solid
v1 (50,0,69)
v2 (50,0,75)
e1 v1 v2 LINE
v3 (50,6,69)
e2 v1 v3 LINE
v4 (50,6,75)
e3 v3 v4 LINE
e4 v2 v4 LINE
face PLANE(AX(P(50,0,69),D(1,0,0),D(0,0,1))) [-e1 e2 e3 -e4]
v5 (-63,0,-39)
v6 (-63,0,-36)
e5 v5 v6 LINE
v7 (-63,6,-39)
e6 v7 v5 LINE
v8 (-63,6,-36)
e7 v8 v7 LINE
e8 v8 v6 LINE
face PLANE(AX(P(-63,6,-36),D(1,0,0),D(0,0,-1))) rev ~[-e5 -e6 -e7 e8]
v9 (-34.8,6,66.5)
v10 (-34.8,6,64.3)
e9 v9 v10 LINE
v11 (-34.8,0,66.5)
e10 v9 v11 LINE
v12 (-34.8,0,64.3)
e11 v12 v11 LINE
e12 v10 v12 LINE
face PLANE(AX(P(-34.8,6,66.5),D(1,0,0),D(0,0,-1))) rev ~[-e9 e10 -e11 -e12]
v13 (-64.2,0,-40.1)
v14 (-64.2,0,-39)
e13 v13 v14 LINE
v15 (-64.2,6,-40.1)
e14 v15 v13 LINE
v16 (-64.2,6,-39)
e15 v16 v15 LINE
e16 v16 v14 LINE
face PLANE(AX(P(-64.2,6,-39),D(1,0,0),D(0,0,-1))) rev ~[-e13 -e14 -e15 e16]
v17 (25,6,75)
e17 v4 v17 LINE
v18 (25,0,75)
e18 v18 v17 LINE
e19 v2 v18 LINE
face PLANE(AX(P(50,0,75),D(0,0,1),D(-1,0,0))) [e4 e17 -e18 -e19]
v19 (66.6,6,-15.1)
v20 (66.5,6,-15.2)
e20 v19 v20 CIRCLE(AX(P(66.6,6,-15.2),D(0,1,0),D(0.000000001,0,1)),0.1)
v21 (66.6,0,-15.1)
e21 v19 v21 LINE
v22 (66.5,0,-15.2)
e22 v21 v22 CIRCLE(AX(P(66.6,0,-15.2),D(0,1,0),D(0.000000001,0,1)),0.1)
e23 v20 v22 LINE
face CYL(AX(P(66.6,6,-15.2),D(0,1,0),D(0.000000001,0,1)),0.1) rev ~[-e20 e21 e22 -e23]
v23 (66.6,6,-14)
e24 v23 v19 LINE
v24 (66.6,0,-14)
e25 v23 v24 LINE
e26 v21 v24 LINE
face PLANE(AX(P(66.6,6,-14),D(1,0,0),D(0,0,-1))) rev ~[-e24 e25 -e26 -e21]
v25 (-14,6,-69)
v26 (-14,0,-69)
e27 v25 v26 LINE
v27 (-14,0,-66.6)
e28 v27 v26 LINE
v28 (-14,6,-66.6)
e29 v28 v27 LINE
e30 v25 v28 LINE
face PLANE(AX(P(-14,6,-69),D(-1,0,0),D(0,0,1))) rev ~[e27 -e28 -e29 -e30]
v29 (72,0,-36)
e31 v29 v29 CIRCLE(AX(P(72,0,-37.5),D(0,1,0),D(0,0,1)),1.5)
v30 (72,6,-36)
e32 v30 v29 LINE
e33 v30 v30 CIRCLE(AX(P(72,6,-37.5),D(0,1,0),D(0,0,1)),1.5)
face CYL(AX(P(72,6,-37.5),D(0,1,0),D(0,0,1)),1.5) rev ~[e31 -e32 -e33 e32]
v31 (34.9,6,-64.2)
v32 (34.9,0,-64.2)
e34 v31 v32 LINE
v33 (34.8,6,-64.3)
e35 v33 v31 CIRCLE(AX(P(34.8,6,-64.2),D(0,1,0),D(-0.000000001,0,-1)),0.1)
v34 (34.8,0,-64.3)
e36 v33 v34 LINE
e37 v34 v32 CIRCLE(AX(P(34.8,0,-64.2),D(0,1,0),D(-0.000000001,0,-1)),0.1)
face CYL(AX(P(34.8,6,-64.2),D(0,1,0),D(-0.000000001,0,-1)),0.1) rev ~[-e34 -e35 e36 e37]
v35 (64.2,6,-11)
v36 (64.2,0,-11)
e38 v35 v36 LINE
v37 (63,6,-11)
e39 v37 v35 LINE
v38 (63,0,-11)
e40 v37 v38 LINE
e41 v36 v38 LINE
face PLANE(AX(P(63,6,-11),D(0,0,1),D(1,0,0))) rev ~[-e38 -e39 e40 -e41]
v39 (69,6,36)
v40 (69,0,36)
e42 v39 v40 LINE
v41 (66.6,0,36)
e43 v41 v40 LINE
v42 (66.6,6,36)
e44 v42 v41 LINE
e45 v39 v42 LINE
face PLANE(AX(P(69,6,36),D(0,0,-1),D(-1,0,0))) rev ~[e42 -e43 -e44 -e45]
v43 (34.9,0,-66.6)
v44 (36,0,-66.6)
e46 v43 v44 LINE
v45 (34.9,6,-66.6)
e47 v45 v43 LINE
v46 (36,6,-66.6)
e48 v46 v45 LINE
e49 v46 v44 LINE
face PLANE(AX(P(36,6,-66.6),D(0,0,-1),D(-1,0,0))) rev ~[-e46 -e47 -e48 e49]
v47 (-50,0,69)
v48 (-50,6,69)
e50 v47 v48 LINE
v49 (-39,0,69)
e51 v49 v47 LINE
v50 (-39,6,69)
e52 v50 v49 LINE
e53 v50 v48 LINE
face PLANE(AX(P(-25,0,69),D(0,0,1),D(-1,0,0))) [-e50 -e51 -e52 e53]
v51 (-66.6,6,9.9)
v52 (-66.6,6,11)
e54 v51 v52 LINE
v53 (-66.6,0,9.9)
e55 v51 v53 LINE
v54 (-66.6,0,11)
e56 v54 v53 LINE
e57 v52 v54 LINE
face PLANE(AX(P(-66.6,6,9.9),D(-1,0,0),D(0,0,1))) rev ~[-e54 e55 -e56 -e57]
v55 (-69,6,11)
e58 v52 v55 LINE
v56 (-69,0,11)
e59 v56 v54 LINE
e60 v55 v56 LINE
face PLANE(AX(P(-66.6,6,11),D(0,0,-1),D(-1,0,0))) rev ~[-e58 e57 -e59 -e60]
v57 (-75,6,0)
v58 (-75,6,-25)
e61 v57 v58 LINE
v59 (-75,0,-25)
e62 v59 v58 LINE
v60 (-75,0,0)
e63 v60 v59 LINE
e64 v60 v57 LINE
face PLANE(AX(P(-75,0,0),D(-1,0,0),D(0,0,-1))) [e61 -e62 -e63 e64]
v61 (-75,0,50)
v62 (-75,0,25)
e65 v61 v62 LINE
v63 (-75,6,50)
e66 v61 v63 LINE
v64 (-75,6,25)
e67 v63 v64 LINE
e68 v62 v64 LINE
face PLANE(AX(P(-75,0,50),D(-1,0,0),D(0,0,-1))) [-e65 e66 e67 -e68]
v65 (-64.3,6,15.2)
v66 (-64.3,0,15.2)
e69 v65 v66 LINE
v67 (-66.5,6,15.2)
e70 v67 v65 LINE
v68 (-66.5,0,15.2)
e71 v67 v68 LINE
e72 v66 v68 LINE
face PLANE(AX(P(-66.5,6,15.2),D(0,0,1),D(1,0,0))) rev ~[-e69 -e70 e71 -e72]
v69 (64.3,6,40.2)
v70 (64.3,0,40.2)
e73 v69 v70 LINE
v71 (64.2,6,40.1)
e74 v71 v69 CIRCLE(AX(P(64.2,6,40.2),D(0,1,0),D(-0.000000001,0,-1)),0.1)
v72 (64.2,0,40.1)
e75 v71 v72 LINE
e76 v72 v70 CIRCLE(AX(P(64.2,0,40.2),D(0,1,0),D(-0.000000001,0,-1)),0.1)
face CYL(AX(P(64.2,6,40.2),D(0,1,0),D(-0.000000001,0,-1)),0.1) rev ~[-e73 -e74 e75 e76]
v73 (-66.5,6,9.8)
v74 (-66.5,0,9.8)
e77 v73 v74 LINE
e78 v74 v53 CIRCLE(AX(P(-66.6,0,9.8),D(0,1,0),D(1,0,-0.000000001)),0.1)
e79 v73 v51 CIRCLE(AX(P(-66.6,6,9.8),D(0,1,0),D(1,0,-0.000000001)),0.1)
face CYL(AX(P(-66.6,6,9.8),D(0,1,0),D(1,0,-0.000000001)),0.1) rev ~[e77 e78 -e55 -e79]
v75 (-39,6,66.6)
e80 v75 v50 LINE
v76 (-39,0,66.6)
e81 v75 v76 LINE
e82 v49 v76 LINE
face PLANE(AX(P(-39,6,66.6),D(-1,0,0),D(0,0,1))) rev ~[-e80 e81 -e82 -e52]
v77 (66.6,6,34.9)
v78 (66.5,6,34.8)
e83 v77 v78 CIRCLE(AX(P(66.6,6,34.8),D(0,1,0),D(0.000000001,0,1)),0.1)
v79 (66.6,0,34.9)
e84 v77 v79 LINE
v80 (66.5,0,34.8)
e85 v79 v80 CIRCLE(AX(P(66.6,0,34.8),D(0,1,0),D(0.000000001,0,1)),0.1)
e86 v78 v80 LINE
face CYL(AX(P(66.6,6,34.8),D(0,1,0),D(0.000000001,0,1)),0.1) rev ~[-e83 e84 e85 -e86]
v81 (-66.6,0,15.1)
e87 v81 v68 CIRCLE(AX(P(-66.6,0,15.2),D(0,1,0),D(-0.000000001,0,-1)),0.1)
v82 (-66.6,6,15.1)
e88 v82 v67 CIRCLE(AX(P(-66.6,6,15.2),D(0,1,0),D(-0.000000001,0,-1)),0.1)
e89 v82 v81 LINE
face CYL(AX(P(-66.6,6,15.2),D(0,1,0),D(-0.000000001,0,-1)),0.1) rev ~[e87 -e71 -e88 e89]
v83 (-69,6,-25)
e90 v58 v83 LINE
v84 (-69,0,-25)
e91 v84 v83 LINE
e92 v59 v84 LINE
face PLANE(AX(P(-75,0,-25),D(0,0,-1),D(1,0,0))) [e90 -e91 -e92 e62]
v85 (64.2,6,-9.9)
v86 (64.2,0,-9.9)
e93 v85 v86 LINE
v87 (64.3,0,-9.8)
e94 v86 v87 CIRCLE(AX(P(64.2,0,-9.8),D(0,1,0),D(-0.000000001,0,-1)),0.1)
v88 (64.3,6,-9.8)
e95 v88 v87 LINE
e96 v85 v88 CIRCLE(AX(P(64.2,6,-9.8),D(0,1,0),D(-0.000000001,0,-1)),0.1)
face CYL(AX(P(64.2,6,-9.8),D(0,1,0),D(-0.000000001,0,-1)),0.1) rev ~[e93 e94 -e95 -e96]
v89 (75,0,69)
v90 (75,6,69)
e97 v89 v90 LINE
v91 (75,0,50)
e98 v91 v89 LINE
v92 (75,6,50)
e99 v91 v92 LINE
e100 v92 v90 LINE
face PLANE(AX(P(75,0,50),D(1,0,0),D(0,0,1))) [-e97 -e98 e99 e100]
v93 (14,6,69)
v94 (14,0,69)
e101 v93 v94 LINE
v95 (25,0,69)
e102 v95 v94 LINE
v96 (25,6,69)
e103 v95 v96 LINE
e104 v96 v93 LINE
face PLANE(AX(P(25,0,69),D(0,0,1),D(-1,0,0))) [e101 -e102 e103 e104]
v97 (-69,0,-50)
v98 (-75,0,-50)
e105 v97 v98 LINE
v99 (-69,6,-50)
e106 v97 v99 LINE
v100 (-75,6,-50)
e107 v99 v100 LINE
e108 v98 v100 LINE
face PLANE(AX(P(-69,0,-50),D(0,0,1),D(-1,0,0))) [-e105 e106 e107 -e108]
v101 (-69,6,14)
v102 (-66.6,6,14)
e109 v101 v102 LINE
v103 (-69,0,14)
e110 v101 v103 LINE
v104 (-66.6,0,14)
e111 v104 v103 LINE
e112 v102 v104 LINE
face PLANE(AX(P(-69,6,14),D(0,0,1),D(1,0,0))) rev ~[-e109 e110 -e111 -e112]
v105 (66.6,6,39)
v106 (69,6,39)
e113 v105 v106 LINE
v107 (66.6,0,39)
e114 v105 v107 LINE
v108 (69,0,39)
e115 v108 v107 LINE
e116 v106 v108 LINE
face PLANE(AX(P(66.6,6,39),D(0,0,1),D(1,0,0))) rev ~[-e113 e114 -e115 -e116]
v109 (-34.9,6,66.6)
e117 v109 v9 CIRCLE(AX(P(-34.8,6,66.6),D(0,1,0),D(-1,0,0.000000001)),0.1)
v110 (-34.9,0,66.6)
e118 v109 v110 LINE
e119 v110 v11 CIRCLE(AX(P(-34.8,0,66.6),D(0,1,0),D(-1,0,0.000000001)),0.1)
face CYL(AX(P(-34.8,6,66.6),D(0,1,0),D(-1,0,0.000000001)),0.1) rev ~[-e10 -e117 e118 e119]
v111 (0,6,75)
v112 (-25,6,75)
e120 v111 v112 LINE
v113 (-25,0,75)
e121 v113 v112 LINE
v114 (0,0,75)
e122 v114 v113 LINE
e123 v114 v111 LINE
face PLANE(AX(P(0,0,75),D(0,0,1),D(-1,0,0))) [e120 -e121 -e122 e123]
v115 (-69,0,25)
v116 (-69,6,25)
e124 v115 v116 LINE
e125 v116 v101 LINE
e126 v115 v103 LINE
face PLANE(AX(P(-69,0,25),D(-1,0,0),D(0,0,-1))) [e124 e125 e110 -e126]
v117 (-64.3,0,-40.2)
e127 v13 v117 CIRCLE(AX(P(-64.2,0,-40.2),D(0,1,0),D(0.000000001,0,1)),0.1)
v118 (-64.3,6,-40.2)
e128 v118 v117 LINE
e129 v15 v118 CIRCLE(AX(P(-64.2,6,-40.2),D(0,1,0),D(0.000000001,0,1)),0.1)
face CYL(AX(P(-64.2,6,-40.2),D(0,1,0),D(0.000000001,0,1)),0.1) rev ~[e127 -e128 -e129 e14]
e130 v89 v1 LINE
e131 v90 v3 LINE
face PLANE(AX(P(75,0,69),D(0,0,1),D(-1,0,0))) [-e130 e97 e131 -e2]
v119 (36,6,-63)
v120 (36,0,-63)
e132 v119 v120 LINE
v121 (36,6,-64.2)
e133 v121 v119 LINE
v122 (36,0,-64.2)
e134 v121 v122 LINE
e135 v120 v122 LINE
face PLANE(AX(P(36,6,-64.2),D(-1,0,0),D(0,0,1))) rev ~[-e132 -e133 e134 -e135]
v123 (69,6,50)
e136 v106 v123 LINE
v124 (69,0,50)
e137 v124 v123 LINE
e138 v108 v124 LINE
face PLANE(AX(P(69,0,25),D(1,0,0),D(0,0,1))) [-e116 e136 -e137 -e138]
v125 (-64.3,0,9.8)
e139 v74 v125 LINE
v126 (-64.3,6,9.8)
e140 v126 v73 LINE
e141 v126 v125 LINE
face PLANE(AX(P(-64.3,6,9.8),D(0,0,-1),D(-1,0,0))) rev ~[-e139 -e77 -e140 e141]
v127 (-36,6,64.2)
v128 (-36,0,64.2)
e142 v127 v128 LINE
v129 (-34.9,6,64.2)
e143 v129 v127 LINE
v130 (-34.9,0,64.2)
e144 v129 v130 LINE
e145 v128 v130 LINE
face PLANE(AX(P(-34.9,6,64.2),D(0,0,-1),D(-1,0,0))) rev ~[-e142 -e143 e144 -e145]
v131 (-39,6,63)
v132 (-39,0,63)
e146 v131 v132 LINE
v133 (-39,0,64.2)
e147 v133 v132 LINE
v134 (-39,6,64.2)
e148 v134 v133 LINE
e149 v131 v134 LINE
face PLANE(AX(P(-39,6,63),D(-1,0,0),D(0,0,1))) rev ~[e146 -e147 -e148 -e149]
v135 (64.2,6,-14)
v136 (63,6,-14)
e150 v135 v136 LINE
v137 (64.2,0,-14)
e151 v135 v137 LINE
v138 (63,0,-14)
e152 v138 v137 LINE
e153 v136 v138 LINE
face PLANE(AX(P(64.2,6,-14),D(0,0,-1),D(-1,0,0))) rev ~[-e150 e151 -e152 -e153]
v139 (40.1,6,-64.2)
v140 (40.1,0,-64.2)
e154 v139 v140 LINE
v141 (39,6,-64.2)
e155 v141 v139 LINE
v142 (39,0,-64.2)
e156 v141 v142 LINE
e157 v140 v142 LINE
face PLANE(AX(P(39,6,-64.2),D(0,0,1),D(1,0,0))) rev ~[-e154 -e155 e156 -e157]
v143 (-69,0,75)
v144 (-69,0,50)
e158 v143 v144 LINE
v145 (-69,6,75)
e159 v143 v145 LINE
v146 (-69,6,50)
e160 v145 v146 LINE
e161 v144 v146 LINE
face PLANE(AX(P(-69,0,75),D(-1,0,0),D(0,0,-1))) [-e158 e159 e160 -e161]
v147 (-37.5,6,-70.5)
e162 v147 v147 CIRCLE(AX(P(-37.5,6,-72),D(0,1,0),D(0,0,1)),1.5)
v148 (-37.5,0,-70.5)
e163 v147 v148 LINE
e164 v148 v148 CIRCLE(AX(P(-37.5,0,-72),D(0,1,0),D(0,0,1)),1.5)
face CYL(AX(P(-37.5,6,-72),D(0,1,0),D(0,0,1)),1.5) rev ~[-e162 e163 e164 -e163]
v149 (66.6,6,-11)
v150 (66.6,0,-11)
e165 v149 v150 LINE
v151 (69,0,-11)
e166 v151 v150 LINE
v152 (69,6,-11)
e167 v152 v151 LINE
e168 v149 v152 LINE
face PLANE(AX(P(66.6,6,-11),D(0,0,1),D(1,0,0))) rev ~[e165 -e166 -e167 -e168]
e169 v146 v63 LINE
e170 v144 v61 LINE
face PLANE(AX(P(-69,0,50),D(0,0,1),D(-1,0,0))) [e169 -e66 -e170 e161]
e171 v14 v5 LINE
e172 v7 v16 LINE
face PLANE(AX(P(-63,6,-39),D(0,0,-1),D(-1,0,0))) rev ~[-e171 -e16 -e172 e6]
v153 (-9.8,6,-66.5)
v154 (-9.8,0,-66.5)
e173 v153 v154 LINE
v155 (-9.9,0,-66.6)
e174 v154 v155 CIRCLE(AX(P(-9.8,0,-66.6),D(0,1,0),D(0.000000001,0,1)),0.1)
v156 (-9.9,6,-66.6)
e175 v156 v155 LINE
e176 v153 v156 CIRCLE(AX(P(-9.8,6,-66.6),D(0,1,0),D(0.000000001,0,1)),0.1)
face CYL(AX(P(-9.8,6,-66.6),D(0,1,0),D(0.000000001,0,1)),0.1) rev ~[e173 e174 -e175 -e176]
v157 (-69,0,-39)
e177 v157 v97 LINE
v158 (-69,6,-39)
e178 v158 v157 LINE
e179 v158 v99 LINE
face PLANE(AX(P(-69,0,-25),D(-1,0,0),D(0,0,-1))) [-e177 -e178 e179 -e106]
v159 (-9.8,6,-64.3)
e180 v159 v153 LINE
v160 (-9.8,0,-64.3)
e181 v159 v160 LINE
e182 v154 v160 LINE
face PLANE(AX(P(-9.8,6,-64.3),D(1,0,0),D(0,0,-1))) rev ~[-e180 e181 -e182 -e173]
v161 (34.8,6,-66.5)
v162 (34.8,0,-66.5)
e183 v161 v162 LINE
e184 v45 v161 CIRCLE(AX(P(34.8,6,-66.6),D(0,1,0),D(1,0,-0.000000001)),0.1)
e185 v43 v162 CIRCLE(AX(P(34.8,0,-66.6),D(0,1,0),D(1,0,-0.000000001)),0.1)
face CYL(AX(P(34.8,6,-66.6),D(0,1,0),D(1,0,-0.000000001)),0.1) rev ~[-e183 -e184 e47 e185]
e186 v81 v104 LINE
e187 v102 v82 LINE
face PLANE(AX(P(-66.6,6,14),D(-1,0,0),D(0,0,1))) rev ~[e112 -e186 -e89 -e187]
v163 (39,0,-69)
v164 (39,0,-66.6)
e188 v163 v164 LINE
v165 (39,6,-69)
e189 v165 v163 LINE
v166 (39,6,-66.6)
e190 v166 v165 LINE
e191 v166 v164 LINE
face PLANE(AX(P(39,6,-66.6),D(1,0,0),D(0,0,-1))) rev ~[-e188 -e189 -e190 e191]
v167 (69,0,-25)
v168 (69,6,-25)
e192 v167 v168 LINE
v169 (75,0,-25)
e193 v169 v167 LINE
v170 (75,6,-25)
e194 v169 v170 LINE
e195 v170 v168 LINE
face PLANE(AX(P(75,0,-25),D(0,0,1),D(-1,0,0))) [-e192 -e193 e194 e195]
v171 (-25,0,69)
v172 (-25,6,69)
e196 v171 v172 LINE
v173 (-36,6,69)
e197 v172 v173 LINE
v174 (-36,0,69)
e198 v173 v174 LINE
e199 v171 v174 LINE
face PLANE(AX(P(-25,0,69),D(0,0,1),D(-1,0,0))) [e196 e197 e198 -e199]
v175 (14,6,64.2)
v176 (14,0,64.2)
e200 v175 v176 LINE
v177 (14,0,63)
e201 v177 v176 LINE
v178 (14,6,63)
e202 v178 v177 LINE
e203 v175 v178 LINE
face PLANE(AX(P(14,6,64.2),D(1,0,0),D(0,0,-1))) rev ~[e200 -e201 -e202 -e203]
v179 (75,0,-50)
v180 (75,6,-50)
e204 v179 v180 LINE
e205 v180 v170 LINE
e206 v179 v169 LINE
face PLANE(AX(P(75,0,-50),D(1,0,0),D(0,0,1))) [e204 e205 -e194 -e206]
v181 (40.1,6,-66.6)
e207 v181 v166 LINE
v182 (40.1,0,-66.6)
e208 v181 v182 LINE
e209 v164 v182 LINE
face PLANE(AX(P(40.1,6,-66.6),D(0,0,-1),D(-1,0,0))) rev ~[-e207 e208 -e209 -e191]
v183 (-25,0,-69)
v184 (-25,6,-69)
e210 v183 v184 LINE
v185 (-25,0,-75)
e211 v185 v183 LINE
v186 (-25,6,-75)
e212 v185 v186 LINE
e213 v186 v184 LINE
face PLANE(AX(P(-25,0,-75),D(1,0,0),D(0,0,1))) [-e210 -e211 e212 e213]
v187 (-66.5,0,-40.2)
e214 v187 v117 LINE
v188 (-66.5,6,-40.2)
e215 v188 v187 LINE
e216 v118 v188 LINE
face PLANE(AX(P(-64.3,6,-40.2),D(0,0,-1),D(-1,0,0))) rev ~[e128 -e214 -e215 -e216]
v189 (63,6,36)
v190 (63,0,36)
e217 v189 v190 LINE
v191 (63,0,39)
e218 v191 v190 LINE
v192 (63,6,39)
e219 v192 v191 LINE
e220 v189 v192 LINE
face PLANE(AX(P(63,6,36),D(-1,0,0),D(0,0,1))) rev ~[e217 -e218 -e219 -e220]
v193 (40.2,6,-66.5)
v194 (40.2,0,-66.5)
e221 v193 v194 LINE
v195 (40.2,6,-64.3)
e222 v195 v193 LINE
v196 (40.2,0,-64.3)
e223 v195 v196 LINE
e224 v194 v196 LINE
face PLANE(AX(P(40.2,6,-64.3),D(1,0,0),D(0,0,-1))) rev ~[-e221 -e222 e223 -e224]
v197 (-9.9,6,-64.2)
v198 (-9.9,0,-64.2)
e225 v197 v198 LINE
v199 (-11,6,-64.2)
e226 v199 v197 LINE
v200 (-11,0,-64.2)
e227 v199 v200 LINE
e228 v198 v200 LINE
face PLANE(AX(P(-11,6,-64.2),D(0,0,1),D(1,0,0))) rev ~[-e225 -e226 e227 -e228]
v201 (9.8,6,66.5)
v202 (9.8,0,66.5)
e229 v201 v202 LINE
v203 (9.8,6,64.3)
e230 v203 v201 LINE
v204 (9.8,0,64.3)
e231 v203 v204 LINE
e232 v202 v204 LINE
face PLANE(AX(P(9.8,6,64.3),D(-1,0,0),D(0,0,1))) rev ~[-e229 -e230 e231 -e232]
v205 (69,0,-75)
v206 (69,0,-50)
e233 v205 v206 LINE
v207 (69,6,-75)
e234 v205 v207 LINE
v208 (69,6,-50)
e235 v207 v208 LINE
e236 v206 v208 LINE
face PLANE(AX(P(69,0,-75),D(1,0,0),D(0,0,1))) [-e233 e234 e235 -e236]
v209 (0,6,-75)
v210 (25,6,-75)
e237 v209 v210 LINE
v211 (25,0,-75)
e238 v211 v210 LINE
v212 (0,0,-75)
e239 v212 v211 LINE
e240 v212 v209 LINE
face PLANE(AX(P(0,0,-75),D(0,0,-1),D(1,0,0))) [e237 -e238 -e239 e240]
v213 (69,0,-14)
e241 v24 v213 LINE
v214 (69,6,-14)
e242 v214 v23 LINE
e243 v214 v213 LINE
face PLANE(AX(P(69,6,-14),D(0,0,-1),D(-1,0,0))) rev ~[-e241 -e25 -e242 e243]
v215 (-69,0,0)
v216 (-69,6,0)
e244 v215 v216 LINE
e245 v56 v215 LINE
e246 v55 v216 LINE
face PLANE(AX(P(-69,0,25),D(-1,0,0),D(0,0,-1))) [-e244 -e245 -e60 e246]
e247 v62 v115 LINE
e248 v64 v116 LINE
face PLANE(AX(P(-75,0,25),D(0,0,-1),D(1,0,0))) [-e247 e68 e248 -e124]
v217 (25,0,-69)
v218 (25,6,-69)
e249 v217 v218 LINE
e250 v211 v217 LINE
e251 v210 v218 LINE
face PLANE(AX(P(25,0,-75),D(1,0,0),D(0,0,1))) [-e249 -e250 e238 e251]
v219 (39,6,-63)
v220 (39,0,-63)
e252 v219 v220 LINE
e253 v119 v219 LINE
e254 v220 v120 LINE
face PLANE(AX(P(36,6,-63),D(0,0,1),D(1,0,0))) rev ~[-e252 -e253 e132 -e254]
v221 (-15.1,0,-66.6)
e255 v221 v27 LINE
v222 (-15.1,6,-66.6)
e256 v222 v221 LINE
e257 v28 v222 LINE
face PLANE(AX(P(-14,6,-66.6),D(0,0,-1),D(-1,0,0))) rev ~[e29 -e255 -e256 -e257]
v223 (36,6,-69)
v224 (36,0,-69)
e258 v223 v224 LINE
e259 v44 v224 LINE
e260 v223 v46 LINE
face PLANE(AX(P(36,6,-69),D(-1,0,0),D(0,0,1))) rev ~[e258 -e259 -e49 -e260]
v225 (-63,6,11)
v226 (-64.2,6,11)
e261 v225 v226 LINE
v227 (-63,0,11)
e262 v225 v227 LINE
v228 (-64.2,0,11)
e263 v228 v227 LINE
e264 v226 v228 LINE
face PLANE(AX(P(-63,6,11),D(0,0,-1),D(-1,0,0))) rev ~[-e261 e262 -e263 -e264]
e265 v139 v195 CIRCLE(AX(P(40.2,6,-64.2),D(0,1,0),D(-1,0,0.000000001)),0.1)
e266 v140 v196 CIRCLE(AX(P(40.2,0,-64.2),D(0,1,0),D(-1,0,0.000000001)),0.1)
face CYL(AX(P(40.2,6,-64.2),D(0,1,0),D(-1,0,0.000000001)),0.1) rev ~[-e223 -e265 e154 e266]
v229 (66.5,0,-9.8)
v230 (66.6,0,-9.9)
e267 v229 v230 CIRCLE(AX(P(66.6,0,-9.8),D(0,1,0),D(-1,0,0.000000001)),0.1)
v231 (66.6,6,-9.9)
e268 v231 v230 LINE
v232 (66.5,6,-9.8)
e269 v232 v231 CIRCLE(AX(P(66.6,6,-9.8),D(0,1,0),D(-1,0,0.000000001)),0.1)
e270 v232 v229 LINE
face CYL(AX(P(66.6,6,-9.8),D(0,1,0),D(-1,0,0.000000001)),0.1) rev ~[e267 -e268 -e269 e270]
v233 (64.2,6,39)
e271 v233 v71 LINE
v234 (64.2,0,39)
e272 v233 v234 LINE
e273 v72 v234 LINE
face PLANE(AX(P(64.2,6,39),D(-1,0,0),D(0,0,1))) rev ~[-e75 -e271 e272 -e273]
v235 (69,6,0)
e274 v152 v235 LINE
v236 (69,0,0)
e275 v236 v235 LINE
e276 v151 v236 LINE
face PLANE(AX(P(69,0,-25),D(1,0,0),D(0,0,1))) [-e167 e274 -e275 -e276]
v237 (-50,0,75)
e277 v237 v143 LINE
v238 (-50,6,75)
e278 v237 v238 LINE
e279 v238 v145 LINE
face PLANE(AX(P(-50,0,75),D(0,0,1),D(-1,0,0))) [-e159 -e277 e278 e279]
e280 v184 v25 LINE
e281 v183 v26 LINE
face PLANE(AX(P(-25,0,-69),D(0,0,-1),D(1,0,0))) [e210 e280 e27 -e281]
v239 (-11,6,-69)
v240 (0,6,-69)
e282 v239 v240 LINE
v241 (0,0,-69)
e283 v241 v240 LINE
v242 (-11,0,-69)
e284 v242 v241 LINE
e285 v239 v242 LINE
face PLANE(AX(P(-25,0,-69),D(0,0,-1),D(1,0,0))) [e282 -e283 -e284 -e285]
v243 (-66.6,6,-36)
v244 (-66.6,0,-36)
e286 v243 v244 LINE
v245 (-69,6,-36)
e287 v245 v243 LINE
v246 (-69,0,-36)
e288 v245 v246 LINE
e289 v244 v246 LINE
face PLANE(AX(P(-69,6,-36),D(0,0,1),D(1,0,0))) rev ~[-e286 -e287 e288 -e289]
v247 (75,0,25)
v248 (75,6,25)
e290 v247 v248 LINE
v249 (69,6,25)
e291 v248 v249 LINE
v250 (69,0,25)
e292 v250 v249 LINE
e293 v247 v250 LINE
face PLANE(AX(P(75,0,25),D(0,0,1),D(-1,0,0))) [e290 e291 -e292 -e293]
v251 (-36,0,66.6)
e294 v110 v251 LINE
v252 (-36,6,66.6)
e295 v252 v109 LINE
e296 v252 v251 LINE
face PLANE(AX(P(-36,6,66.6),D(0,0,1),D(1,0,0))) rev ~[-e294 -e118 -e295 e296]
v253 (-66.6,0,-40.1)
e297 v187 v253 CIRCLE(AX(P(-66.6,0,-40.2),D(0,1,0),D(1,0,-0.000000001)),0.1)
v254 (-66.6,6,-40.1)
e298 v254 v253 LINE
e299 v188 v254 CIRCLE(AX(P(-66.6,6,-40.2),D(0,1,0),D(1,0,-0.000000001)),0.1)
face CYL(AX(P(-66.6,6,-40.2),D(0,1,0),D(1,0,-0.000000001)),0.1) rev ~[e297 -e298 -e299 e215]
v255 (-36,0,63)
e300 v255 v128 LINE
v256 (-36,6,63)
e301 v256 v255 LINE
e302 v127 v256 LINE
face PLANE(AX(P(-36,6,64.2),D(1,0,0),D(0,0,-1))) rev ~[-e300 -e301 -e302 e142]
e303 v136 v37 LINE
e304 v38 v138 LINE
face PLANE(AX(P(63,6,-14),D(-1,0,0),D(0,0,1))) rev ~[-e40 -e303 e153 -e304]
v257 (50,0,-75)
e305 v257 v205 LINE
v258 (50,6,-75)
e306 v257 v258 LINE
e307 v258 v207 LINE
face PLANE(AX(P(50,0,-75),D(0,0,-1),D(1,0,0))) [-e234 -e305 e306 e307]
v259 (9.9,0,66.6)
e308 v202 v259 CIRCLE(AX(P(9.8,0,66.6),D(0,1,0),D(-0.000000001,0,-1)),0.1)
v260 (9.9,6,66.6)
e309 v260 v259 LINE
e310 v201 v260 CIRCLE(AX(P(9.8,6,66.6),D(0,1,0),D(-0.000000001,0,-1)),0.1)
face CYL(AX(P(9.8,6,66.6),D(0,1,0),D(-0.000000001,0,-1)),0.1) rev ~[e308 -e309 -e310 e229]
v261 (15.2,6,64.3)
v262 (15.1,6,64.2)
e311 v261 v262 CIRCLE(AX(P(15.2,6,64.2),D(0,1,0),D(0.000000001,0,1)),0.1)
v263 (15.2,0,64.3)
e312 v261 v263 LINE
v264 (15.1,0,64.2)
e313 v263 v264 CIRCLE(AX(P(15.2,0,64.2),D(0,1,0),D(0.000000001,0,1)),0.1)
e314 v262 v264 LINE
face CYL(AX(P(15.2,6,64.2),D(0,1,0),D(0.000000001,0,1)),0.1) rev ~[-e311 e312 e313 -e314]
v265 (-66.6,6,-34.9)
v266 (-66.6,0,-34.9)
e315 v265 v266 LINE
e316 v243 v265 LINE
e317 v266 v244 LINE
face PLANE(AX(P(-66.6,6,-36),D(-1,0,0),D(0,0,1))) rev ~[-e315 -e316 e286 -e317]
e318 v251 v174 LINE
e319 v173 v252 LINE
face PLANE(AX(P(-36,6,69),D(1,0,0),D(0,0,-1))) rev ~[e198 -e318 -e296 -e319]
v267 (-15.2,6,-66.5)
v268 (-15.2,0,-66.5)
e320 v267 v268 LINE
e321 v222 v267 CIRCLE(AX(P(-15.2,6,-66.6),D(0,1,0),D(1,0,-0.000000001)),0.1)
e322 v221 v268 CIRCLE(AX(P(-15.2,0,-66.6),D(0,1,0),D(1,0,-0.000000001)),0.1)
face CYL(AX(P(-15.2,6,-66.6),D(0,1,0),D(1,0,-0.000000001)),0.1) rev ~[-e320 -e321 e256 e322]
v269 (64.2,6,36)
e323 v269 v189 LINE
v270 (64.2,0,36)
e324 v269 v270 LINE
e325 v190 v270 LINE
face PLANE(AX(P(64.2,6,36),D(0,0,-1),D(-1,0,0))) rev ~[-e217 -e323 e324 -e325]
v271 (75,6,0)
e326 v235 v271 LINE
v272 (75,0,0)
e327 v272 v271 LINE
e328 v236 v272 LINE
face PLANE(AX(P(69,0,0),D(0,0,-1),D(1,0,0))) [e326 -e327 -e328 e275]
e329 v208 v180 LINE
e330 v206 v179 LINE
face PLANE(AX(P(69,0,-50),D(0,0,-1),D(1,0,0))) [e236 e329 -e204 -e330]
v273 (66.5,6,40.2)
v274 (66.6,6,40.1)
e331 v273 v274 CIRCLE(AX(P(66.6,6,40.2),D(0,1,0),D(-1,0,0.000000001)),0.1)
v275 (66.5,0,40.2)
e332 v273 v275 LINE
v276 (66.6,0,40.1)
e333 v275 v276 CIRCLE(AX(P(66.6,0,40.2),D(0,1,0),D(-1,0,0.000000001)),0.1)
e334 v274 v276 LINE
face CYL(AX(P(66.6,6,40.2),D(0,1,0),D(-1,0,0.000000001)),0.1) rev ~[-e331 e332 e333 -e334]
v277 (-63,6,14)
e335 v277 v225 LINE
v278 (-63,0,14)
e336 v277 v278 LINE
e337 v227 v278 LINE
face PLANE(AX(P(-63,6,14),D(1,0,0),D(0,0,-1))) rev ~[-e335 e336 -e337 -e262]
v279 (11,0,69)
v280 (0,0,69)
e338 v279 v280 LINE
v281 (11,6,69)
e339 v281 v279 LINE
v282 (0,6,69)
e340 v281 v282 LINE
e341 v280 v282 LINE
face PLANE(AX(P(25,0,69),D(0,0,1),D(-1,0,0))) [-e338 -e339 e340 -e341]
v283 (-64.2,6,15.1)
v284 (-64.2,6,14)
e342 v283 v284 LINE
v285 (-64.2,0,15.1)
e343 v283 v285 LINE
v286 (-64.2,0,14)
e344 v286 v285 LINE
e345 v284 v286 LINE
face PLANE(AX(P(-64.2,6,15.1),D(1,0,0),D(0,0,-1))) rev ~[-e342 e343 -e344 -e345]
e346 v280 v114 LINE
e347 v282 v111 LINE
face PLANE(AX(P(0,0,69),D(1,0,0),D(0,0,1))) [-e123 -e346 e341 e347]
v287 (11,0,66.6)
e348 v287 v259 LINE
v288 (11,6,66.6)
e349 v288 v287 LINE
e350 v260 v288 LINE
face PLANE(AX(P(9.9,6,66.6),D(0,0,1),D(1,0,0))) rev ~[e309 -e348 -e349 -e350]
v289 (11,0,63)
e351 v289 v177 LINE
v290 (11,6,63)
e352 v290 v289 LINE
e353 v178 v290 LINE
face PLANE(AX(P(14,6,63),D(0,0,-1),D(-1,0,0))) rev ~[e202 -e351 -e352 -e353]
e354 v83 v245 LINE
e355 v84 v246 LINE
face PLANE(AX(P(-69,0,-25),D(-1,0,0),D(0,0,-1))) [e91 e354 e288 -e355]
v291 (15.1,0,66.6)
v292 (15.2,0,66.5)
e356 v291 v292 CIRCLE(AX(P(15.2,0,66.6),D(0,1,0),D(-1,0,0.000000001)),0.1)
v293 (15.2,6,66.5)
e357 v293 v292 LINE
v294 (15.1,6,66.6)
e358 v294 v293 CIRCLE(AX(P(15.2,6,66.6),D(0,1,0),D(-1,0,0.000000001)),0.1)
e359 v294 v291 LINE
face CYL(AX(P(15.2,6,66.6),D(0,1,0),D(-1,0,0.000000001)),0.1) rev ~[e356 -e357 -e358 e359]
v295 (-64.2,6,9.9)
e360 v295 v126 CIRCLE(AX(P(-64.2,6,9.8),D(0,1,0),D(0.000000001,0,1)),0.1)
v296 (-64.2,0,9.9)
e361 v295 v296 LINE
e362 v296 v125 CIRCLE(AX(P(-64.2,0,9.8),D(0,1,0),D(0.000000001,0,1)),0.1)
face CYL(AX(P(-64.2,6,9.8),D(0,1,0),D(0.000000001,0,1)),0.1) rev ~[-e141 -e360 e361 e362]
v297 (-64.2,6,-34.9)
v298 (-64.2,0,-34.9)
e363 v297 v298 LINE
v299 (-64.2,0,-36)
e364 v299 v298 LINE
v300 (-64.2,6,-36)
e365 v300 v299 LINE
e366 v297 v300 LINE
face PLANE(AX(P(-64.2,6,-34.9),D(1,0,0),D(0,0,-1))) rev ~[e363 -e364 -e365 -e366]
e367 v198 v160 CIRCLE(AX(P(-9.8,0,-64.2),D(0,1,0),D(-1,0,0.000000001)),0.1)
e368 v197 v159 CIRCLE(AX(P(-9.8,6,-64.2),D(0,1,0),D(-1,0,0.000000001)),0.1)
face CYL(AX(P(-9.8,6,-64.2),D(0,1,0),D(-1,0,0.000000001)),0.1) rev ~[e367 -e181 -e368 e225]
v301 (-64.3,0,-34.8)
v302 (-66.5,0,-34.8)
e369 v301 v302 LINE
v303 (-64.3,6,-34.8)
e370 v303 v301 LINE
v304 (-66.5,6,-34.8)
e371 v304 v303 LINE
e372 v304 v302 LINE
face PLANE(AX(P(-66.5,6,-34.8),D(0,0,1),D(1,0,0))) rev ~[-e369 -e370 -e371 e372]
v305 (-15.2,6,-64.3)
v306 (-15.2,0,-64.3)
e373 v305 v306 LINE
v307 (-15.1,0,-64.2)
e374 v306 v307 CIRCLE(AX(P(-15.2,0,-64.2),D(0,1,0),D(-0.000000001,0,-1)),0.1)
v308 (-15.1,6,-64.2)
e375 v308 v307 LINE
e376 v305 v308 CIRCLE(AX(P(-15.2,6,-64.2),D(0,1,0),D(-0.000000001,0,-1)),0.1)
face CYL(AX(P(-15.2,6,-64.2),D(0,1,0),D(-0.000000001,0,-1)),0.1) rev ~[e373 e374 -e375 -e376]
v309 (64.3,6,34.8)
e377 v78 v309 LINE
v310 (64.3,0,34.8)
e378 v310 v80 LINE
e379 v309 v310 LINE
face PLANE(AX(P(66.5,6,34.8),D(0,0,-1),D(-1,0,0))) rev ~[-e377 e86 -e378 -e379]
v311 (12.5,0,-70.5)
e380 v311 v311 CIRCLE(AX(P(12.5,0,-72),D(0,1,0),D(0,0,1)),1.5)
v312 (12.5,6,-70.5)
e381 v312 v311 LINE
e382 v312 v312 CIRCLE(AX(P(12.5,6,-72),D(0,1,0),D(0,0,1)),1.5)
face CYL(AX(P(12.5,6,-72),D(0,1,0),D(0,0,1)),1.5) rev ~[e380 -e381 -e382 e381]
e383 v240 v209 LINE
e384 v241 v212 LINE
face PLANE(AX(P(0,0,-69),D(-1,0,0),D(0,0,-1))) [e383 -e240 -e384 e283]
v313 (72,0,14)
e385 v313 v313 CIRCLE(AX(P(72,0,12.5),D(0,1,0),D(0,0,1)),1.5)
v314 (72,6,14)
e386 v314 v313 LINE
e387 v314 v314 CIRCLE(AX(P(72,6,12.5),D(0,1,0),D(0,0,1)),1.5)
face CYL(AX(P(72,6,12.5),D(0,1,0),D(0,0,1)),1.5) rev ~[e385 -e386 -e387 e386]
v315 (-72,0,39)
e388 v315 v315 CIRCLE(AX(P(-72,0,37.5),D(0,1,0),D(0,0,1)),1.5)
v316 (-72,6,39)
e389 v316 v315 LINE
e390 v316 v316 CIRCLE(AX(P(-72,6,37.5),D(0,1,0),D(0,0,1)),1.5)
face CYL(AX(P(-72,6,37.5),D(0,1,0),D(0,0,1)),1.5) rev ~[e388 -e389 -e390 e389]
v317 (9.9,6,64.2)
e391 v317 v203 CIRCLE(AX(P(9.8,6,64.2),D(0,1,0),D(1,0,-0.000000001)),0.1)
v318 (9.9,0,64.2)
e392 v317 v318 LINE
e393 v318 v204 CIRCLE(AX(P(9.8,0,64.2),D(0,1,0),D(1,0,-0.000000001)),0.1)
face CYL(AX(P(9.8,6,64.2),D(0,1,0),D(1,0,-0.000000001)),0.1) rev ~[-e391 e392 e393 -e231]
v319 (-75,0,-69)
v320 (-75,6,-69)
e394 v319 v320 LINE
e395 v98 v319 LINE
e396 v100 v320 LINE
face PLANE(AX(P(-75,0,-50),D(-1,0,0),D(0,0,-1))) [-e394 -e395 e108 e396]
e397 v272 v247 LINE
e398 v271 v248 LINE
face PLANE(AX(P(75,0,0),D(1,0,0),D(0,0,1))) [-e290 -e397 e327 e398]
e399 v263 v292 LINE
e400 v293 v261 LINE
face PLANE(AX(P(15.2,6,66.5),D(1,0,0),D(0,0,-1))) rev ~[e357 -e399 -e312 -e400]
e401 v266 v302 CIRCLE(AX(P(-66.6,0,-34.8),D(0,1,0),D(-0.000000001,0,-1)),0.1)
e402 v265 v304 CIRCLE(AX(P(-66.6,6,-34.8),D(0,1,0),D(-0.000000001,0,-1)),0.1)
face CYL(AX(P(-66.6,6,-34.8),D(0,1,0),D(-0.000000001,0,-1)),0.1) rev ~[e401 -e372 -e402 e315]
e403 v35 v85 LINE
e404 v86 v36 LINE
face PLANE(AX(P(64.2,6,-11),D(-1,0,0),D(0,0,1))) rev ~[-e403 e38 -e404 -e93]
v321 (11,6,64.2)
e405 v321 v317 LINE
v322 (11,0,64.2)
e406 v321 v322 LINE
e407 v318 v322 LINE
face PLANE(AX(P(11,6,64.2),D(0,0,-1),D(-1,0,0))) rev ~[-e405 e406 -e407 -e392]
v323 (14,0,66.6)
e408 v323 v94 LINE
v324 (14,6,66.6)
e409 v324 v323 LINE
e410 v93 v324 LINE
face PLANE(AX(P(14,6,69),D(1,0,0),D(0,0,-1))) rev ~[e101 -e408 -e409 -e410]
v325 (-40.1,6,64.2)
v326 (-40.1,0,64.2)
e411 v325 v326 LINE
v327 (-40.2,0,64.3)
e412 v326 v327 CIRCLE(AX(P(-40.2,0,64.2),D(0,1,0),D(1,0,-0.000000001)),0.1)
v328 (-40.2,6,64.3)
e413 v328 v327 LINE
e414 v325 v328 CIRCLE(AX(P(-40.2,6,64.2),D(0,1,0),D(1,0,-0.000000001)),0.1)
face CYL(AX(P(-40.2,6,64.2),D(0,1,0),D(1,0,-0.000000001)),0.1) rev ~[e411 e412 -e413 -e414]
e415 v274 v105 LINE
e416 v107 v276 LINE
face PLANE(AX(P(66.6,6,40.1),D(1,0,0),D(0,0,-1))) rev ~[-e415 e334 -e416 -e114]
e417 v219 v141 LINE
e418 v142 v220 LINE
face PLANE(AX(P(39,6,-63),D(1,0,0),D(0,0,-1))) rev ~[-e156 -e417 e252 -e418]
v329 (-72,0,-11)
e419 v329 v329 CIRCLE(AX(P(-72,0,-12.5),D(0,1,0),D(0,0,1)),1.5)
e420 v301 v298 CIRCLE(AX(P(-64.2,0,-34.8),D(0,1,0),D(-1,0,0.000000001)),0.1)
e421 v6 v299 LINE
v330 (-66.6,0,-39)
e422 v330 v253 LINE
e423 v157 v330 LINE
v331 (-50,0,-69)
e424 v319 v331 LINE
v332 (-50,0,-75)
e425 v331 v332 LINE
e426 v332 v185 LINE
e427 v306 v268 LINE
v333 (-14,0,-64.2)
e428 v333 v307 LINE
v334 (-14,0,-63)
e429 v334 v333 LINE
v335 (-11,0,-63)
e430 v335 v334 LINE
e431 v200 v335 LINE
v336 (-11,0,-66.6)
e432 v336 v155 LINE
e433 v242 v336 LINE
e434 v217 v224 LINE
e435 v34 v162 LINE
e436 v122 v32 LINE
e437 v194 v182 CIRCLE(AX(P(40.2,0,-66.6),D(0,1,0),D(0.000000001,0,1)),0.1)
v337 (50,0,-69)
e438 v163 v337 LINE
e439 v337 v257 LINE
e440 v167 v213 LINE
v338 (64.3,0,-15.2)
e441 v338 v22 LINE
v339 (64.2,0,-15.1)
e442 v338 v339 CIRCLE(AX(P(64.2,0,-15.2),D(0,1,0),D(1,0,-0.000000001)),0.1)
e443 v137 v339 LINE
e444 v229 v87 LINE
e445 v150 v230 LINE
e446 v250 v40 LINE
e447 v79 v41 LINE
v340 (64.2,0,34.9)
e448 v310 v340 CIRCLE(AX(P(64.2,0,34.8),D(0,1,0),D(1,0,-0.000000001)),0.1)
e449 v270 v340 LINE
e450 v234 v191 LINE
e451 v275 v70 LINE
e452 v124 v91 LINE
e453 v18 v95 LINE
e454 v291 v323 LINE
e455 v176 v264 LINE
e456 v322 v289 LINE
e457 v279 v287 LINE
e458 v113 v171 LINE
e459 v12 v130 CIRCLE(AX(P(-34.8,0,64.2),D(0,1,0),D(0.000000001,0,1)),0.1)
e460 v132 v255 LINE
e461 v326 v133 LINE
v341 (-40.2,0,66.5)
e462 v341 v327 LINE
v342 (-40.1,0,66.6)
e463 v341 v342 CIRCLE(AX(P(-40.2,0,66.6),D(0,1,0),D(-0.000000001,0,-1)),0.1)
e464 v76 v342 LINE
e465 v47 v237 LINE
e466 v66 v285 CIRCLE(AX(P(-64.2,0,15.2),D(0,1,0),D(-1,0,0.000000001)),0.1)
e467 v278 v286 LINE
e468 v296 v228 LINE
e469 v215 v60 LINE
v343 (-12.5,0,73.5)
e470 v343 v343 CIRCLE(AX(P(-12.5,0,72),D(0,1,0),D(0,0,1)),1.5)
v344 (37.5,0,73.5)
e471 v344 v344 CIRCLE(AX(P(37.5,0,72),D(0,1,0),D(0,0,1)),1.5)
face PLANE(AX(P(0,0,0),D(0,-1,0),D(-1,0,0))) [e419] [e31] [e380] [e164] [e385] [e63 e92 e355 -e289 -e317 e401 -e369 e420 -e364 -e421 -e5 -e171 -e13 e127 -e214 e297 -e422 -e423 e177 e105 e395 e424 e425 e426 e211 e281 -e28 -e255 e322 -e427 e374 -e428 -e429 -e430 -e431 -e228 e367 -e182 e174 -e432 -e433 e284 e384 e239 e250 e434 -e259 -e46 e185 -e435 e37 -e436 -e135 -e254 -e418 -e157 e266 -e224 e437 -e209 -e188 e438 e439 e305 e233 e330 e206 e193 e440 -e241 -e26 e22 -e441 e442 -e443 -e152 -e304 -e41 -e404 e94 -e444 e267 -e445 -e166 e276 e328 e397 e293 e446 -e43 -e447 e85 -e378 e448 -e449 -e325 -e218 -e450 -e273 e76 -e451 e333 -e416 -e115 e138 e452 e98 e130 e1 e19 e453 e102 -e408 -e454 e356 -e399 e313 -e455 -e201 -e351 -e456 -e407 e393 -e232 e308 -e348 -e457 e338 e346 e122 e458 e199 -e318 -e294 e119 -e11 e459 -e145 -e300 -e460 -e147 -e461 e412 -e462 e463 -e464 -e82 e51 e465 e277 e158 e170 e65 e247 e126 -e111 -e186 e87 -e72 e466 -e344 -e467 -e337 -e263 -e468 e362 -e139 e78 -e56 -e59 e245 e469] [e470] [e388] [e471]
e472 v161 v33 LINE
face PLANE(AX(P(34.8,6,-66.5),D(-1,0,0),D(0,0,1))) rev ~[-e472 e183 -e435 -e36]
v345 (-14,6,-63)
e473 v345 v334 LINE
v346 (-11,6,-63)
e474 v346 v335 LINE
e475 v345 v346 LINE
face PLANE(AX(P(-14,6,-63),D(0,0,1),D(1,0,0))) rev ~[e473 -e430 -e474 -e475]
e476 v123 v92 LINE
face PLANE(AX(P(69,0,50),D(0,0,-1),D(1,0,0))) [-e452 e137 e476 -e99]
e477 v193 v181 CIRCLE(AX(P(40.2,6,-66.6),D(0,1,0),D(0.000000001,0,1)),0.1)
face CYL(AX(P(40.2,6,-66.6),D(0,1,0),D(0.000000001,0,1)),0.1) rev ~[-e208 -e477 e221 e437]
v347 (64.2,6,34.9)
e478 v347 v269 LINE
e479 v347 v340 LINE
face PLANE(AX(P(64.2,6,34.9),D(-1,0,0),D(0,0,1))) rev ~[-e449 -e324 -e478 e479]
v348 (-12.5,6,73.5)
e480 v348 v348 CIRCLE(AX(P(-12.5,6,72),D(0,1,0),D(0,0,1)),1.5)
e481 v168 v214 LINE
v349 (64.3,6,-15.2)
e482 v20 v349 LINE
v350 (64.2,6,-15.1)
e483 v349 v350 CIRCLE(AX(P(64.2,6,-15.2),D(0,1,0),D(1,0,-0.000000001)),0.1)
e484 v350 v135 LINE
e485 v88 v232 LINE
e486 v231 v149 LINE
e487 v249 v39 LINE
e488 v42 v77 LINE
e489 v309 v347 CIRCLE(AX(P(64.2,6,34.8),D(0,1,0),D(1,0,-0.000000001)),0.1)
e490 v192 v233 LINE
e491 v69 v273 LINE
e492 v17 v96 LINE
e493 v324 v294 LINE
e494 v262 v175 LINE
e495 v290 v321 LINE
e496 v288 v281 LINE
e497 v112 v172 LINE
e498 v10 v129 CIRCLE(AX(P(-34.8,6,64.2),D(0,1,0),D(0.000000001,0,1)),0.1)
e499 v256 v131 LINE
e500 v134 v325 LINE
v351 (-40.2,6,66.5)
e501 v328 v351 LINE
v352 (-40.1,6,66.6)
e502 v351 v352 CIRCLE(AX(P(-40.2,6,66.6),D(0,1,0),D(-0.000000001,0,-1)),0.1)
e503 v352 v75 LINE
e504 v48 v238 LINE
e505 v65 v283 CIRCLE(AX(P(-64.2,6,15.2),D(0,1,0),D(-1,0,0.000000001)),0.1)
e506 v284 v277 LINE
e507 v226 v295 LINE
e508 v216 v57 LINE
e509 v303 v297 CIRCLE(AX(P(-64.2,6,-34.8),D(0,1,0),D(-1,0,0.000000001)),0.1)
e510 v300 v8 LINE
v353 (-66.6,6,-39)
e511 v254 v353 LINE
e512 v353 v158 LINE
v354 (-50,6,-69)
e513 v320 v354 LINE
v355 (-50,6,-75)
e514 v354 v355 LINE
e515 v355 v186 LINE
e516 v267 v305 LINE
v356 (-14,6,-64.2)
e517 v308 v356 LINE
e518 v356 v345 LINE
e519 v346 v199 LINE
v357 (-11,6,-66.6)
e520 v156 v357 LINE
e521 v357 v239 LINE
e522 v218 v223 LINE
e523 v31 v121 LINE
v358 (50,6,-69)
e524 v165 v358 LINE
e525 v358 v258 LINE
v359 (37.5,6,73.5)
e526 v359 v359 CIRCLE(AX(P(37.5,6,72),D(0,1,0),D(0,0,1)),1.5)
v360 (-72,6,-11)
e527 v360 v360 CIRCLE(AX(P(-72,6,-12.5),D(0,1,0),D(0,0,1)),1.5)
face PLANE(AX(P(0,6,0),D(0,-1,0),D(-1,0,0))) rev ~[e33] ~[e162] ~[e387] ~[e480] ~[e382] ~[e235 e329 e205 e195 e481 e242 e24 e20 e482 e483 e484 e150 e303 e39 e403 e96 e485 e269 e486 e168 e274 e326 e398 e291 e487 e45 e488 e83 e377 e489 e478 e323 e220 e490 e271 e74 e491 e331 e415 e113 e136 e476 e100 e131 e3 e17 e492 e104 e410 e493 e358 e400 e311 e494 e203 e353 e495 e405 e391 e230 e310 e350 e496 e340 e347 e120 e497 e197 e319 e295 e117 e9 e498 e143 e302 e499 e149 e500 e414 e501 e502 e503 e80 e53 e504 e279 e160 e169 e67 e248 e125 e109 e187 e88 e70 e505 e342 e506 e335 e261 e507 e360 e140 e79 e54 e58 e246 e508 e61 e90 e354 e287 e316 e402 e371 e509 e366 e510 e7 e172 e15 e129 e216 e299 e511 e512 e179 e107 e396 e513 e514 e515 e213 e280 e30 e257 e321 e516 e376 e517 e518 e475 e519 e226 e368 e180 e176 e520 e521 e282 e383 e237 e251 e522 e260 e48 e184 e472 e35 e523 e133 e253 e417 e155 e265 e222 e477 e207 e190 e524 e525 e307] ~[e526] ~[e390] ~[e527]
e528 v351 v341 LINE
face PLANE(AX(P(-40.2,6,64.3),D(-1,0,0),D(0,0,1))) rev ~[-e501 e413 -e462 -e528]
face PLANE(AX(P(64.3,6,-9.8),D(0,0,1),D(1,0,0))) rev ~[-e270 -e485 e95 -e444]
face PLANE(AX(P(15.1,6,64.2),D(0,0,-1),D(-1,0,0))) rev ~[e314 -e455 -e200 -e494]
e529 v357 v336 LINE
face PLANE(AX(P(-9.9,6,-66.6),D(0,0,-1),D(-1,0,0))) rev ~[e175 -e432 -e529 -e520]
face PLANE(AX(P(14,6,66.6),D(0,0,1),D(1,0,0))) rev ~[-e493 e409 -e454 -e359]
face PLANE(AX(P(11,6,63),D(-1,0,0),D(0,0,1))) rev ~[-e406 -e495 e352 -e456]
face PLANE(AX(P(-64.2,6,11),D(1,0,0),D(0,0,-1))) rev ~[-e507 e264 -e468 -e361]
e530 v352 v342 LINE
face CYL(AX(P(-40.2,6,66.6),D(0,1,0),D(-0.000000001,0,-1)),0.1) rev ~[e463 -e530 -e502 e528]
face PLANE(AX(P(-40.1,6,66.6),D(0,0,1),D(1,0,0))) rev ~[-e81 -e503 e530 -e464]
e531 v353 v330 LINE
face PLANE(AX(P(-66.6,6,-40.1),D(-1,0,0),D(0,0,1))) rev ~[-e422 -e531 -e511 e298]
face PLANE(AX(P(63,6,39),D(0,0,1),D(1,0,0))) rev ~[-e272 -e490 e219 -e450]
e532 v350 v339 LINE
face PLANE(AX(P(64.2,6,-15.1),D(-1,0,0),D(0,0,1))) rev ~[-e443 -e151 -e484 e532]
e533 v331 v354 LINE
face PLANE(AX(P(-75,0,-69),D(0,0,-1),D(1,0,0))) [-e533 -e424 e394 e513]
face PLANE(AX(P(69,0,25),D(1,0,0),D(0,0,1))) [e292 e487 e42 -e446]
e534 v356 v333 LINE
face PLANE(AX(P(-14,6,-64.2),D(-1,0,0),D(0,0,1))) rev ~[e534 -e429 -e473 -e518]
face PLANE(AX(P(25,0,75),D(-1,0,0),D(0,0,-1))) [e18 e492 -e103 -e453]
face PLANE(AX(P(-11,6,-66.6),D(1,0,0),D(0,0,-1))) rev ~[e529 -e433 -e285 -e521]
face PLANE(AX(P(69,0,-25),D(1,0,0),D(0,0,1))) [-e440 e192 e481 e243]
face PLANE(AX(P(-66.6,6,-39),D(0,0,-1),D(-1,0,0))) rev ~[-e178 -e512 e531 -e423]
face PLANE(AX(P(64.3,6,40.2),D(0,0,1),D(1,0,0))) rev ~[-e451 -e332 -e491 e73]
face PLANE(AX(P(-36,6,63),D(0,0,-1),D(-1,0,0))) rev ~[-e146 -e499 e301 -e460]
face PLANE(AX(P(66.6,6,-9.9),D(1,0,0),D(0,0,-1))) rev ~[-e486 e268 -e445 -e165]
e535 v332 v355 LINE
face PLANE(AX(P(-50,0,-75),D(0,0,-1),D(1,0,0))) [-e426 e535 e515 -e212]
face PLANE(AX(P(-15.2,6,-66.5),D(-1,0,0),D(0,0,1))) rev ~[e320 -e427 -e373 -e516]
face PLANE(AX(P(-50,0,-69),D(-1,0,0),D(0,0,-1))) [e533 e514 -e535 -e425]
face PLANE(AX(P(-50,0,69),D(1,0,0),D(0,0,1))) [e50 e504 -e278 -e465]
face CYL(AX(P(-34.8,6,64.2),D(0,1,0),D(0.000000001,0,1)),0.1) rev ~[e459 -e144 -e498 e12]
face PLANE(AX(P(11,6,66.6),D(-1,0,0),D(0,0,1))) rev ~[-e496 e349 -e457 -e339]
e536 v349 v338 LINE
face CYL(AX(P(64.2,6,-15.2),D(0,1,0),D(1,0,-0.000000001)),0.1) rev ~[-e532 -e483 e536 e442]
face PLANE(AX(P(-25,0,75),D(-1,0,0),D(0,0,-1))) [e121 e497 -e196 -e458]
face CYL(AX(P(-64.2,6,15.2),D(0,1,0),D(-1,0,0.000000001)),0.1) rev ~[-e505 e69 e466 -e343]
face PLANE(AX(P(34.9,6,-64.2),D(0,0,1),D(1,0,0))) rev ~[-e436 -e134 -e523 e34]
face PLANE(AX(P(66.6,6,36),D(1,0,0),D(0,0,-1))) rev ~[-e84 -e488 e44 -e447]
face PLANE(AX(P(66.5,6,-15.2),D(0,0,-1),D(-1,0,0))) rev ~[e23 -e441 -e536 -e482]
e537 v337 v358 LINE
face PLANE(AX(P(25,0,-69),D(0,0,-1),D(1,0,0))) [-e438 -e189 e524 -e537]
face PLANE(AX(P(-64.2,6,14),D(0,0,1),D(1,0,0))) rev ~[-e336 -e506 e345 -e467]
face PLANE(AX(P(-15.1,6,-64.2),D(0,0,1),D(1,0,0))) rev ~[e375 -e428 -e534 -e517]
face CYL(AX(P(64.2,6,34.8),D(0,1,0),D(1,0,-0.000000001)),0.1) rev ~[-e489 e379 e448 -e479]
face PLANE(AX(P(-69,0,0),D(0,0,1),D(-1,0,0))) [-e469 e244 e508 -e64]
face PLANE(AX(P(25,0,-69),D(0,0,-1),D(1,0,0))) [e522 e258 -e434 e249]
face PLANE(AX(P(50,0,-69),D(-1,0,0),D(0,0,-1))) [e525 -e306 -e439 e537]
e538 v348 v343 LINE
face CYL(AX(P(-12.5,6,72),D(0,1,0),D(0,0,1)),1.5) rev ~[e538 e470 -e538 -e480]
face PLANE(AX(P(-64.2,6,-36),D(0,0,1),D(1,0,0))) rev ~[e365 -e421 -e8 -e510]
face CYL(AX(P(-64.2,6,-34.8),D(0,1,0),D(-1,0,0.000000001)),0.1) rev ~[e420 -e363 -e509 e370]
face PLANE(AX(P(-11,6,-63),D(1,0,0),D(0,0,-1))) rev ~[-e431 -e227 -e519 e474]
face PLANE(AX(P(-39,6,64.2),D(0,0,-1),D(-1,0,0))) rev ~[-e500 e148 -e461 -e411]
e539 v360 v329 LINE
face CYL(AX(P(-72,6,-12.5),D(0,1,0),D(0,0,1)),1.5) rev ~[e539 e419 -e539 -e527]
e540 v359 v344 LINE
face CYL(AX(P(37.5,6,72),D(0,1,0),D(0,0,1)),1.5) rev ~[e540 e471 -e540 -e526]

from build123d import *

# Parameters (mm, degrees)
BOSS_EXTRUDE1_DEPTH = 6
SKETCH2_R           = 1.5
CUT_EXTRUDE1_DEPTH  = 107.235587258


with BuildPart() as part:
    # Sketch1 → Boss-Extrude1 (new body)
    with BuildSketch(Plane(origin=(0, 0, 0), x_dir=(1, 0, 0), z_dir=(0, 1, 0))):
        Polygon((0, 75), (25, 75), (25, 69), (50, 69), (50, 75), (69, 75), (69, 50), (75, 50), (75, 25), (69, 25), (69, 0), (75, 0), (75, -25), (69, -25), (69, -50), (75, -50), (75, -69), (50, -69), (50, -75), (25, -75), (25, -69), (0, -69), (0, -75), (-25, -75), (-25, -69), (-50, -69), (-50, -75), (-69, -75), (-69, -50), (-75, -50), (-75, -25), (-69, -25), (-69, 0), (-75, 0), (-75, 25), (-69, 25), (-69, 50), (-75, 50), (-75, 69), (-50, 69), (-50, 75), (-25, 75), (-25, 69), (0, 69), align=None)
    extrude(amount=BOSS_EXTRUDE1_DEPTH)

    # Sketch2 → Cut-Extrude1 (cut, through all)
    with BuildSketch(Plane(origin=(0, 6, 0), x_dir=(1, 0, 0), z_dir=(0, 1, 0))):
        with Locations(Location((-37.5, 72, 0), (0, 0, 270))):
            Circle(SKETCH2_R)
        with Locations(Location((12.5, 72, 0), (0, 0, 270))):
            Circle(SKETCH2_R)
        with Locations(Location((72, 37.5, 0), (0, 0, 270))):
            Circle(SKETCH2_R)
        with Locations(Location((72, -12.5, 0), (0, 0, 270))):
            Circle(SKETCH2_R)
        with Locations(Location((37.5, -72, 0), (0, 0, 270))):
            Circle(SKETCH2_R)
        with Locations(Location((-12.5, -72, 0), (0, 0, 270))):
            Circle(SKETCH2_R)
        with Locations(Location((-72, -37.5, 0), (0, 0, 270))):
            Circle(SKETCH2_R)
        with Locations(Location((-72, 12.5, 0), (0, 0, 270))):
            Circle(SKETCH2_R)
        with BuildLine():
            Line((-11, 69), (-14, 69))
            Line((-14, 69), (-14, 66.6))
            Line((-14, 66.6), (-15.1, 66.6))
            ThreePointArc((-15.1, 66.6), (-15.270710678, 66.670710678), (-15.2, 66.5))
            Line((-15.2, 66.5), (-15.2, 64.3))
            ThreePointArc((-15.2, 64.3), (-15.270710678, 64.129289322), (-15.1, 64.2))
            Line((-15.1, 64.2), (-14, 64.2))
            Line((-14, 64.2), (-14, 63))
            Line((-14, 63), (-11, 63))
            Line((-11, 63), (-11, 64.2))
            Line((-11, 64.2), (-9.9, 64.2))
            ThreePointArc((-9.9, 64.2), (-9.729289322, 64.129289322), (-9.8, 64.3))
            Line((-9.8, 64.3), (-9.8, 66.5))
            ThreePointArc((-9.8, 66.5), (-9.729289322, 66.670710678), (-9.9, 66.6))
            Line((-9.9, 66.6), (-11, 66.6))
            Line((-11, 66.6), (-11, 69))
        make_face()
        with BuildLine():
            Line((69, 11), (69, 14))
            Line((69, 14), (66.6, 14))
            Line((66.6, 14), (66.6, 15.1))
            ThreePointArc((66.6, 15.1), (66.670710678, 15.270710678), (66.5, 15.2))
            Line((66.5, 15.2), (64.3, 15.2))
            ThreePointArc((64.3, 15.2), (64.129289322, 15.270710678), (64.2, 15.1))
            Line((64.2, 15.1), (64.2, 14))
            Line((64.2, 14), (63, 14))
            Line((63, 14), (63, 11))
            Line((63, 11), (64.2, 11))
            Line((64.2, 11), (64.2, 9.9))
            ThreePointArc((64.2, 9.9), (64.129289322, 9.729289322), (64.3, 9.8))
            Line((64.3, 9.8), (66.5, 9.8))
            ThreePointArc((66.5, 9.8), (66.670710678, 9.729289322), (66.6, 9.9))
            Line((66.6, 9.9), (66.6, 11))
            Line((66.6, 11), (69, 11))
        make_face()
        with BuildLine():
            Line((39, 69), (36, 69))
            Line((36, 69), (36, 66.6))
            Line((36, 66.6), (34.9, 66.6))
            ThreePointArc((34.9, 66.6), (34.729289322, 66.670710678), (34.8, 66.5))
            Line((34.8, 66.5), (34.8, 64.3))
            ThreePointArc((34.8, 64.3), (34.729289322, 64.129289322), (34.9, 64.2))
            Line((34.9, 64.2), (36, 64.2))
            Line((36, 64.2), (36, 63))
            Line((36, 63), (39, 63))
            Line((39, 63), (39, 64.2))
            Line((39, 64.2), (40.1, 64.2))
            ThreePointArc((40.1, 64.2), (40.270710678, 64.129289322), (40.2, 64.3))
            Line((40.2, 64.3), (40.2, 66.5))
            ThreePointArc((40.2, 66.5), (40.270710678, 66.670710678), (40.1, 66.6))
            Line((40.1, 66.6), (39, 66.6))
            Line((39, 66.6), (39, 69))
        make_face()
        with BuildLine():
            Line((69, -39), (69, -36))
            Line((69, -36), (66.6, -36))
            Line((66.6, -36), (66.6, -34.9))
            ThreePointArc((66.6, -34.9), (66.670710678, -34.729289322), (66.5, -34.8))
            Line((66.5, -34.8), (64.3, -34.8))
            ThreePointArc((64.3, -34.8), (64.129289322, -34.729289322), (64.2, -34.9))
            Line((64.2, -34.9), (64.2, -36))
            Line((64.2, -36), (63, -36))
            Line((63, -36), (63, -39))
            Line((63, -39), (64.2, -39))
            Line((64.2, -39), (64.2, -40.1))
            ThreePointArc((64.2, -40.1), (64.129289322, -40.270710678), (64.3, -40.2))
            Line((64.3, -40.2), (66.5, -40.2))
            ThreePointArc((66.5, -40.2), (66.670710678, -40.270710678), (66.6, -40.1))
            Line((66.6, -40.1), (66.6, -39))
            Line((66.6, -39), (69, -39))
        make_face()
        with BuildLine():
            Line((11, -69), (14, -69))
            Line((14, -69), (14, -66.6))
            Line((14, -66.6), (15.1, -66.6))
            ThreePointArc((15.1, -66.6), (15.270710678, -66.670710678), (15.2, -66.5))
            Line((15.2, -66.5), (15.2, -64.3))
            ThreePointArc((15.2, -64.3), (15.270710678, -64.129289322), (15.1, -64.2))
            Line((15.1, -64.2), (14, -64.2))
            Line((14, -64.2), (14, -63))
            Line((14, -63), (11, -63))
            Line((11, -63), (11, -64.2))
            Line((11, -64.2), (9.9, -64.2))
            ThreePointArc((9.9, -64.2), (9.729289322, -64.129289322), (9.8, -64.3))
            Line((9.8, -64.3), (9.8, -66.5))
            ThreePointArc((9.8, -66.5), (9.729289322, -66.670710678), (9.9, -66.6))
            Line((9.9, -66.6), (11, -66.6))
            Line((11, -66.6), (11, -69))
        make_face()
        with BuildLine():
            Line((-39, -69), (-36, -69))
            Line((-36, -69), (-36, -66.6))
            Line((-36, -66.6), (-34.9, -66.6))
            ThreePointArc((-34.9, -66.6), (-34.729289322, -66.670710678), (-34.8, -66.5))
            Line((-34.8, -66.5), (-34.8, -64.3))
            ThreePointArc((-34.8, -64.3), (-34.729289322, -64.129289322), (-34.9, -64.2))
            Line((-34.9, -64.2), (-36, -64.2))
            Line((-36, -64.2), (-36, -63))
            Line((-36, -63), (-39, -63))
            Line((-39, -63), (-39, -64.2))
            Line((-39, -64.2), (-40.1, -64.2))
            ThreePointArc((-40.1, -64.2), (-40.270710678, -64.129289322), (-40.2, -64.3))
            Line((-40.2, -64.3), (-40.2, -66.5))
            ThreePointArc((-40.2, -66.5), (-40.270710678, -66.670710678), (-40.1, -66.6))
            Line((-40.1, -66.6), (-39, -66.6))
            Line((-39, -66.6), (-39, -69))
        make_face()
        with BuildLine():
            Line((-69, 39), (-69, 36))
            Line((-69, 36), (-66.6, 36))
            Line((-66.6, 36), (-66.6, 34.9))
            ThreePointArc((-66.6, 34.9), (-66.670710678, 34.729289322), (-66.5, 34.8))
            Line((-66.5, 34.8), (-64.3, 34.8))
            ThreePointArc((-64.3, 34.8), (-64.129289322, 34.729289322), (-64.2, 34.9))
            Line((-64.2, 34.9), (-64.2, 36))
            Line((-64.2, 36), (-63, 36))
            Line((-63, 36), (-63, 39))
            Line((-63, 39), (-64.2, 39))
            Line((-64.2, 39), (-64.2, 40.1))
            ThreePointArc((-64.2, 40.1), (-64.129289322, 40.270710678), (-64.3, 40.2))
            Line((-64.3, 40.2), (-66.5, 40.2))
            ThreePointArc((-66.5, 40.2), (-66.670710678, 40.270710678), (-66.6, 40.1))
            Line((-66.6, 40.1), (-66.6, 39))
            Line((-66.6, 39), (-69, 39))
        make_face()
        with BuildLine():
            Line((-69, -11), (-69, -14))
            Line((-69, -14), (-66.6, -14))
            Line((-66.6, -14), (-66.6, -15.1))
            ThreePointArc((-66.6, -15.1), (-66.670710678, -15.270710678), (-66.5, -15.2))
            Line((-66.5, -15.2), (-64.3, -15.2))
            ThreePointArc((-64.3, -15.2), (-64.129289322, -15.270710678), (-64.2, -15.1))
            Line((-64.2, -15.1), (-64.2, -14))
            Line((-64.2, -14), (-63, -14))
            Line((-63, -14), (-63, -11))
            Line((-63, -11), (-64.2, -11))
            Line((-64.2, -11), (-64.2, -9.9))
            ThreePointArc((-64.2, -9.9), (-64.129289322, -9.729289322), (-64.3, -9.8))
            Line((-64.3, -9.8), (-66.5, -9.8))
            ThreePointArc((-66.5, -9.8), (-66.670710678, -9.729289322), (-66.6, -9.9))
            Line((-66.6, -9.9), (-66.6, -11))
            Line((-66.6, -11), (-69, -11))
        make_face()
    extrude(amount=-CUT_EXTRUDE1_DEPTH, mode=Mode.SUBTRACT)


solid = part.part
